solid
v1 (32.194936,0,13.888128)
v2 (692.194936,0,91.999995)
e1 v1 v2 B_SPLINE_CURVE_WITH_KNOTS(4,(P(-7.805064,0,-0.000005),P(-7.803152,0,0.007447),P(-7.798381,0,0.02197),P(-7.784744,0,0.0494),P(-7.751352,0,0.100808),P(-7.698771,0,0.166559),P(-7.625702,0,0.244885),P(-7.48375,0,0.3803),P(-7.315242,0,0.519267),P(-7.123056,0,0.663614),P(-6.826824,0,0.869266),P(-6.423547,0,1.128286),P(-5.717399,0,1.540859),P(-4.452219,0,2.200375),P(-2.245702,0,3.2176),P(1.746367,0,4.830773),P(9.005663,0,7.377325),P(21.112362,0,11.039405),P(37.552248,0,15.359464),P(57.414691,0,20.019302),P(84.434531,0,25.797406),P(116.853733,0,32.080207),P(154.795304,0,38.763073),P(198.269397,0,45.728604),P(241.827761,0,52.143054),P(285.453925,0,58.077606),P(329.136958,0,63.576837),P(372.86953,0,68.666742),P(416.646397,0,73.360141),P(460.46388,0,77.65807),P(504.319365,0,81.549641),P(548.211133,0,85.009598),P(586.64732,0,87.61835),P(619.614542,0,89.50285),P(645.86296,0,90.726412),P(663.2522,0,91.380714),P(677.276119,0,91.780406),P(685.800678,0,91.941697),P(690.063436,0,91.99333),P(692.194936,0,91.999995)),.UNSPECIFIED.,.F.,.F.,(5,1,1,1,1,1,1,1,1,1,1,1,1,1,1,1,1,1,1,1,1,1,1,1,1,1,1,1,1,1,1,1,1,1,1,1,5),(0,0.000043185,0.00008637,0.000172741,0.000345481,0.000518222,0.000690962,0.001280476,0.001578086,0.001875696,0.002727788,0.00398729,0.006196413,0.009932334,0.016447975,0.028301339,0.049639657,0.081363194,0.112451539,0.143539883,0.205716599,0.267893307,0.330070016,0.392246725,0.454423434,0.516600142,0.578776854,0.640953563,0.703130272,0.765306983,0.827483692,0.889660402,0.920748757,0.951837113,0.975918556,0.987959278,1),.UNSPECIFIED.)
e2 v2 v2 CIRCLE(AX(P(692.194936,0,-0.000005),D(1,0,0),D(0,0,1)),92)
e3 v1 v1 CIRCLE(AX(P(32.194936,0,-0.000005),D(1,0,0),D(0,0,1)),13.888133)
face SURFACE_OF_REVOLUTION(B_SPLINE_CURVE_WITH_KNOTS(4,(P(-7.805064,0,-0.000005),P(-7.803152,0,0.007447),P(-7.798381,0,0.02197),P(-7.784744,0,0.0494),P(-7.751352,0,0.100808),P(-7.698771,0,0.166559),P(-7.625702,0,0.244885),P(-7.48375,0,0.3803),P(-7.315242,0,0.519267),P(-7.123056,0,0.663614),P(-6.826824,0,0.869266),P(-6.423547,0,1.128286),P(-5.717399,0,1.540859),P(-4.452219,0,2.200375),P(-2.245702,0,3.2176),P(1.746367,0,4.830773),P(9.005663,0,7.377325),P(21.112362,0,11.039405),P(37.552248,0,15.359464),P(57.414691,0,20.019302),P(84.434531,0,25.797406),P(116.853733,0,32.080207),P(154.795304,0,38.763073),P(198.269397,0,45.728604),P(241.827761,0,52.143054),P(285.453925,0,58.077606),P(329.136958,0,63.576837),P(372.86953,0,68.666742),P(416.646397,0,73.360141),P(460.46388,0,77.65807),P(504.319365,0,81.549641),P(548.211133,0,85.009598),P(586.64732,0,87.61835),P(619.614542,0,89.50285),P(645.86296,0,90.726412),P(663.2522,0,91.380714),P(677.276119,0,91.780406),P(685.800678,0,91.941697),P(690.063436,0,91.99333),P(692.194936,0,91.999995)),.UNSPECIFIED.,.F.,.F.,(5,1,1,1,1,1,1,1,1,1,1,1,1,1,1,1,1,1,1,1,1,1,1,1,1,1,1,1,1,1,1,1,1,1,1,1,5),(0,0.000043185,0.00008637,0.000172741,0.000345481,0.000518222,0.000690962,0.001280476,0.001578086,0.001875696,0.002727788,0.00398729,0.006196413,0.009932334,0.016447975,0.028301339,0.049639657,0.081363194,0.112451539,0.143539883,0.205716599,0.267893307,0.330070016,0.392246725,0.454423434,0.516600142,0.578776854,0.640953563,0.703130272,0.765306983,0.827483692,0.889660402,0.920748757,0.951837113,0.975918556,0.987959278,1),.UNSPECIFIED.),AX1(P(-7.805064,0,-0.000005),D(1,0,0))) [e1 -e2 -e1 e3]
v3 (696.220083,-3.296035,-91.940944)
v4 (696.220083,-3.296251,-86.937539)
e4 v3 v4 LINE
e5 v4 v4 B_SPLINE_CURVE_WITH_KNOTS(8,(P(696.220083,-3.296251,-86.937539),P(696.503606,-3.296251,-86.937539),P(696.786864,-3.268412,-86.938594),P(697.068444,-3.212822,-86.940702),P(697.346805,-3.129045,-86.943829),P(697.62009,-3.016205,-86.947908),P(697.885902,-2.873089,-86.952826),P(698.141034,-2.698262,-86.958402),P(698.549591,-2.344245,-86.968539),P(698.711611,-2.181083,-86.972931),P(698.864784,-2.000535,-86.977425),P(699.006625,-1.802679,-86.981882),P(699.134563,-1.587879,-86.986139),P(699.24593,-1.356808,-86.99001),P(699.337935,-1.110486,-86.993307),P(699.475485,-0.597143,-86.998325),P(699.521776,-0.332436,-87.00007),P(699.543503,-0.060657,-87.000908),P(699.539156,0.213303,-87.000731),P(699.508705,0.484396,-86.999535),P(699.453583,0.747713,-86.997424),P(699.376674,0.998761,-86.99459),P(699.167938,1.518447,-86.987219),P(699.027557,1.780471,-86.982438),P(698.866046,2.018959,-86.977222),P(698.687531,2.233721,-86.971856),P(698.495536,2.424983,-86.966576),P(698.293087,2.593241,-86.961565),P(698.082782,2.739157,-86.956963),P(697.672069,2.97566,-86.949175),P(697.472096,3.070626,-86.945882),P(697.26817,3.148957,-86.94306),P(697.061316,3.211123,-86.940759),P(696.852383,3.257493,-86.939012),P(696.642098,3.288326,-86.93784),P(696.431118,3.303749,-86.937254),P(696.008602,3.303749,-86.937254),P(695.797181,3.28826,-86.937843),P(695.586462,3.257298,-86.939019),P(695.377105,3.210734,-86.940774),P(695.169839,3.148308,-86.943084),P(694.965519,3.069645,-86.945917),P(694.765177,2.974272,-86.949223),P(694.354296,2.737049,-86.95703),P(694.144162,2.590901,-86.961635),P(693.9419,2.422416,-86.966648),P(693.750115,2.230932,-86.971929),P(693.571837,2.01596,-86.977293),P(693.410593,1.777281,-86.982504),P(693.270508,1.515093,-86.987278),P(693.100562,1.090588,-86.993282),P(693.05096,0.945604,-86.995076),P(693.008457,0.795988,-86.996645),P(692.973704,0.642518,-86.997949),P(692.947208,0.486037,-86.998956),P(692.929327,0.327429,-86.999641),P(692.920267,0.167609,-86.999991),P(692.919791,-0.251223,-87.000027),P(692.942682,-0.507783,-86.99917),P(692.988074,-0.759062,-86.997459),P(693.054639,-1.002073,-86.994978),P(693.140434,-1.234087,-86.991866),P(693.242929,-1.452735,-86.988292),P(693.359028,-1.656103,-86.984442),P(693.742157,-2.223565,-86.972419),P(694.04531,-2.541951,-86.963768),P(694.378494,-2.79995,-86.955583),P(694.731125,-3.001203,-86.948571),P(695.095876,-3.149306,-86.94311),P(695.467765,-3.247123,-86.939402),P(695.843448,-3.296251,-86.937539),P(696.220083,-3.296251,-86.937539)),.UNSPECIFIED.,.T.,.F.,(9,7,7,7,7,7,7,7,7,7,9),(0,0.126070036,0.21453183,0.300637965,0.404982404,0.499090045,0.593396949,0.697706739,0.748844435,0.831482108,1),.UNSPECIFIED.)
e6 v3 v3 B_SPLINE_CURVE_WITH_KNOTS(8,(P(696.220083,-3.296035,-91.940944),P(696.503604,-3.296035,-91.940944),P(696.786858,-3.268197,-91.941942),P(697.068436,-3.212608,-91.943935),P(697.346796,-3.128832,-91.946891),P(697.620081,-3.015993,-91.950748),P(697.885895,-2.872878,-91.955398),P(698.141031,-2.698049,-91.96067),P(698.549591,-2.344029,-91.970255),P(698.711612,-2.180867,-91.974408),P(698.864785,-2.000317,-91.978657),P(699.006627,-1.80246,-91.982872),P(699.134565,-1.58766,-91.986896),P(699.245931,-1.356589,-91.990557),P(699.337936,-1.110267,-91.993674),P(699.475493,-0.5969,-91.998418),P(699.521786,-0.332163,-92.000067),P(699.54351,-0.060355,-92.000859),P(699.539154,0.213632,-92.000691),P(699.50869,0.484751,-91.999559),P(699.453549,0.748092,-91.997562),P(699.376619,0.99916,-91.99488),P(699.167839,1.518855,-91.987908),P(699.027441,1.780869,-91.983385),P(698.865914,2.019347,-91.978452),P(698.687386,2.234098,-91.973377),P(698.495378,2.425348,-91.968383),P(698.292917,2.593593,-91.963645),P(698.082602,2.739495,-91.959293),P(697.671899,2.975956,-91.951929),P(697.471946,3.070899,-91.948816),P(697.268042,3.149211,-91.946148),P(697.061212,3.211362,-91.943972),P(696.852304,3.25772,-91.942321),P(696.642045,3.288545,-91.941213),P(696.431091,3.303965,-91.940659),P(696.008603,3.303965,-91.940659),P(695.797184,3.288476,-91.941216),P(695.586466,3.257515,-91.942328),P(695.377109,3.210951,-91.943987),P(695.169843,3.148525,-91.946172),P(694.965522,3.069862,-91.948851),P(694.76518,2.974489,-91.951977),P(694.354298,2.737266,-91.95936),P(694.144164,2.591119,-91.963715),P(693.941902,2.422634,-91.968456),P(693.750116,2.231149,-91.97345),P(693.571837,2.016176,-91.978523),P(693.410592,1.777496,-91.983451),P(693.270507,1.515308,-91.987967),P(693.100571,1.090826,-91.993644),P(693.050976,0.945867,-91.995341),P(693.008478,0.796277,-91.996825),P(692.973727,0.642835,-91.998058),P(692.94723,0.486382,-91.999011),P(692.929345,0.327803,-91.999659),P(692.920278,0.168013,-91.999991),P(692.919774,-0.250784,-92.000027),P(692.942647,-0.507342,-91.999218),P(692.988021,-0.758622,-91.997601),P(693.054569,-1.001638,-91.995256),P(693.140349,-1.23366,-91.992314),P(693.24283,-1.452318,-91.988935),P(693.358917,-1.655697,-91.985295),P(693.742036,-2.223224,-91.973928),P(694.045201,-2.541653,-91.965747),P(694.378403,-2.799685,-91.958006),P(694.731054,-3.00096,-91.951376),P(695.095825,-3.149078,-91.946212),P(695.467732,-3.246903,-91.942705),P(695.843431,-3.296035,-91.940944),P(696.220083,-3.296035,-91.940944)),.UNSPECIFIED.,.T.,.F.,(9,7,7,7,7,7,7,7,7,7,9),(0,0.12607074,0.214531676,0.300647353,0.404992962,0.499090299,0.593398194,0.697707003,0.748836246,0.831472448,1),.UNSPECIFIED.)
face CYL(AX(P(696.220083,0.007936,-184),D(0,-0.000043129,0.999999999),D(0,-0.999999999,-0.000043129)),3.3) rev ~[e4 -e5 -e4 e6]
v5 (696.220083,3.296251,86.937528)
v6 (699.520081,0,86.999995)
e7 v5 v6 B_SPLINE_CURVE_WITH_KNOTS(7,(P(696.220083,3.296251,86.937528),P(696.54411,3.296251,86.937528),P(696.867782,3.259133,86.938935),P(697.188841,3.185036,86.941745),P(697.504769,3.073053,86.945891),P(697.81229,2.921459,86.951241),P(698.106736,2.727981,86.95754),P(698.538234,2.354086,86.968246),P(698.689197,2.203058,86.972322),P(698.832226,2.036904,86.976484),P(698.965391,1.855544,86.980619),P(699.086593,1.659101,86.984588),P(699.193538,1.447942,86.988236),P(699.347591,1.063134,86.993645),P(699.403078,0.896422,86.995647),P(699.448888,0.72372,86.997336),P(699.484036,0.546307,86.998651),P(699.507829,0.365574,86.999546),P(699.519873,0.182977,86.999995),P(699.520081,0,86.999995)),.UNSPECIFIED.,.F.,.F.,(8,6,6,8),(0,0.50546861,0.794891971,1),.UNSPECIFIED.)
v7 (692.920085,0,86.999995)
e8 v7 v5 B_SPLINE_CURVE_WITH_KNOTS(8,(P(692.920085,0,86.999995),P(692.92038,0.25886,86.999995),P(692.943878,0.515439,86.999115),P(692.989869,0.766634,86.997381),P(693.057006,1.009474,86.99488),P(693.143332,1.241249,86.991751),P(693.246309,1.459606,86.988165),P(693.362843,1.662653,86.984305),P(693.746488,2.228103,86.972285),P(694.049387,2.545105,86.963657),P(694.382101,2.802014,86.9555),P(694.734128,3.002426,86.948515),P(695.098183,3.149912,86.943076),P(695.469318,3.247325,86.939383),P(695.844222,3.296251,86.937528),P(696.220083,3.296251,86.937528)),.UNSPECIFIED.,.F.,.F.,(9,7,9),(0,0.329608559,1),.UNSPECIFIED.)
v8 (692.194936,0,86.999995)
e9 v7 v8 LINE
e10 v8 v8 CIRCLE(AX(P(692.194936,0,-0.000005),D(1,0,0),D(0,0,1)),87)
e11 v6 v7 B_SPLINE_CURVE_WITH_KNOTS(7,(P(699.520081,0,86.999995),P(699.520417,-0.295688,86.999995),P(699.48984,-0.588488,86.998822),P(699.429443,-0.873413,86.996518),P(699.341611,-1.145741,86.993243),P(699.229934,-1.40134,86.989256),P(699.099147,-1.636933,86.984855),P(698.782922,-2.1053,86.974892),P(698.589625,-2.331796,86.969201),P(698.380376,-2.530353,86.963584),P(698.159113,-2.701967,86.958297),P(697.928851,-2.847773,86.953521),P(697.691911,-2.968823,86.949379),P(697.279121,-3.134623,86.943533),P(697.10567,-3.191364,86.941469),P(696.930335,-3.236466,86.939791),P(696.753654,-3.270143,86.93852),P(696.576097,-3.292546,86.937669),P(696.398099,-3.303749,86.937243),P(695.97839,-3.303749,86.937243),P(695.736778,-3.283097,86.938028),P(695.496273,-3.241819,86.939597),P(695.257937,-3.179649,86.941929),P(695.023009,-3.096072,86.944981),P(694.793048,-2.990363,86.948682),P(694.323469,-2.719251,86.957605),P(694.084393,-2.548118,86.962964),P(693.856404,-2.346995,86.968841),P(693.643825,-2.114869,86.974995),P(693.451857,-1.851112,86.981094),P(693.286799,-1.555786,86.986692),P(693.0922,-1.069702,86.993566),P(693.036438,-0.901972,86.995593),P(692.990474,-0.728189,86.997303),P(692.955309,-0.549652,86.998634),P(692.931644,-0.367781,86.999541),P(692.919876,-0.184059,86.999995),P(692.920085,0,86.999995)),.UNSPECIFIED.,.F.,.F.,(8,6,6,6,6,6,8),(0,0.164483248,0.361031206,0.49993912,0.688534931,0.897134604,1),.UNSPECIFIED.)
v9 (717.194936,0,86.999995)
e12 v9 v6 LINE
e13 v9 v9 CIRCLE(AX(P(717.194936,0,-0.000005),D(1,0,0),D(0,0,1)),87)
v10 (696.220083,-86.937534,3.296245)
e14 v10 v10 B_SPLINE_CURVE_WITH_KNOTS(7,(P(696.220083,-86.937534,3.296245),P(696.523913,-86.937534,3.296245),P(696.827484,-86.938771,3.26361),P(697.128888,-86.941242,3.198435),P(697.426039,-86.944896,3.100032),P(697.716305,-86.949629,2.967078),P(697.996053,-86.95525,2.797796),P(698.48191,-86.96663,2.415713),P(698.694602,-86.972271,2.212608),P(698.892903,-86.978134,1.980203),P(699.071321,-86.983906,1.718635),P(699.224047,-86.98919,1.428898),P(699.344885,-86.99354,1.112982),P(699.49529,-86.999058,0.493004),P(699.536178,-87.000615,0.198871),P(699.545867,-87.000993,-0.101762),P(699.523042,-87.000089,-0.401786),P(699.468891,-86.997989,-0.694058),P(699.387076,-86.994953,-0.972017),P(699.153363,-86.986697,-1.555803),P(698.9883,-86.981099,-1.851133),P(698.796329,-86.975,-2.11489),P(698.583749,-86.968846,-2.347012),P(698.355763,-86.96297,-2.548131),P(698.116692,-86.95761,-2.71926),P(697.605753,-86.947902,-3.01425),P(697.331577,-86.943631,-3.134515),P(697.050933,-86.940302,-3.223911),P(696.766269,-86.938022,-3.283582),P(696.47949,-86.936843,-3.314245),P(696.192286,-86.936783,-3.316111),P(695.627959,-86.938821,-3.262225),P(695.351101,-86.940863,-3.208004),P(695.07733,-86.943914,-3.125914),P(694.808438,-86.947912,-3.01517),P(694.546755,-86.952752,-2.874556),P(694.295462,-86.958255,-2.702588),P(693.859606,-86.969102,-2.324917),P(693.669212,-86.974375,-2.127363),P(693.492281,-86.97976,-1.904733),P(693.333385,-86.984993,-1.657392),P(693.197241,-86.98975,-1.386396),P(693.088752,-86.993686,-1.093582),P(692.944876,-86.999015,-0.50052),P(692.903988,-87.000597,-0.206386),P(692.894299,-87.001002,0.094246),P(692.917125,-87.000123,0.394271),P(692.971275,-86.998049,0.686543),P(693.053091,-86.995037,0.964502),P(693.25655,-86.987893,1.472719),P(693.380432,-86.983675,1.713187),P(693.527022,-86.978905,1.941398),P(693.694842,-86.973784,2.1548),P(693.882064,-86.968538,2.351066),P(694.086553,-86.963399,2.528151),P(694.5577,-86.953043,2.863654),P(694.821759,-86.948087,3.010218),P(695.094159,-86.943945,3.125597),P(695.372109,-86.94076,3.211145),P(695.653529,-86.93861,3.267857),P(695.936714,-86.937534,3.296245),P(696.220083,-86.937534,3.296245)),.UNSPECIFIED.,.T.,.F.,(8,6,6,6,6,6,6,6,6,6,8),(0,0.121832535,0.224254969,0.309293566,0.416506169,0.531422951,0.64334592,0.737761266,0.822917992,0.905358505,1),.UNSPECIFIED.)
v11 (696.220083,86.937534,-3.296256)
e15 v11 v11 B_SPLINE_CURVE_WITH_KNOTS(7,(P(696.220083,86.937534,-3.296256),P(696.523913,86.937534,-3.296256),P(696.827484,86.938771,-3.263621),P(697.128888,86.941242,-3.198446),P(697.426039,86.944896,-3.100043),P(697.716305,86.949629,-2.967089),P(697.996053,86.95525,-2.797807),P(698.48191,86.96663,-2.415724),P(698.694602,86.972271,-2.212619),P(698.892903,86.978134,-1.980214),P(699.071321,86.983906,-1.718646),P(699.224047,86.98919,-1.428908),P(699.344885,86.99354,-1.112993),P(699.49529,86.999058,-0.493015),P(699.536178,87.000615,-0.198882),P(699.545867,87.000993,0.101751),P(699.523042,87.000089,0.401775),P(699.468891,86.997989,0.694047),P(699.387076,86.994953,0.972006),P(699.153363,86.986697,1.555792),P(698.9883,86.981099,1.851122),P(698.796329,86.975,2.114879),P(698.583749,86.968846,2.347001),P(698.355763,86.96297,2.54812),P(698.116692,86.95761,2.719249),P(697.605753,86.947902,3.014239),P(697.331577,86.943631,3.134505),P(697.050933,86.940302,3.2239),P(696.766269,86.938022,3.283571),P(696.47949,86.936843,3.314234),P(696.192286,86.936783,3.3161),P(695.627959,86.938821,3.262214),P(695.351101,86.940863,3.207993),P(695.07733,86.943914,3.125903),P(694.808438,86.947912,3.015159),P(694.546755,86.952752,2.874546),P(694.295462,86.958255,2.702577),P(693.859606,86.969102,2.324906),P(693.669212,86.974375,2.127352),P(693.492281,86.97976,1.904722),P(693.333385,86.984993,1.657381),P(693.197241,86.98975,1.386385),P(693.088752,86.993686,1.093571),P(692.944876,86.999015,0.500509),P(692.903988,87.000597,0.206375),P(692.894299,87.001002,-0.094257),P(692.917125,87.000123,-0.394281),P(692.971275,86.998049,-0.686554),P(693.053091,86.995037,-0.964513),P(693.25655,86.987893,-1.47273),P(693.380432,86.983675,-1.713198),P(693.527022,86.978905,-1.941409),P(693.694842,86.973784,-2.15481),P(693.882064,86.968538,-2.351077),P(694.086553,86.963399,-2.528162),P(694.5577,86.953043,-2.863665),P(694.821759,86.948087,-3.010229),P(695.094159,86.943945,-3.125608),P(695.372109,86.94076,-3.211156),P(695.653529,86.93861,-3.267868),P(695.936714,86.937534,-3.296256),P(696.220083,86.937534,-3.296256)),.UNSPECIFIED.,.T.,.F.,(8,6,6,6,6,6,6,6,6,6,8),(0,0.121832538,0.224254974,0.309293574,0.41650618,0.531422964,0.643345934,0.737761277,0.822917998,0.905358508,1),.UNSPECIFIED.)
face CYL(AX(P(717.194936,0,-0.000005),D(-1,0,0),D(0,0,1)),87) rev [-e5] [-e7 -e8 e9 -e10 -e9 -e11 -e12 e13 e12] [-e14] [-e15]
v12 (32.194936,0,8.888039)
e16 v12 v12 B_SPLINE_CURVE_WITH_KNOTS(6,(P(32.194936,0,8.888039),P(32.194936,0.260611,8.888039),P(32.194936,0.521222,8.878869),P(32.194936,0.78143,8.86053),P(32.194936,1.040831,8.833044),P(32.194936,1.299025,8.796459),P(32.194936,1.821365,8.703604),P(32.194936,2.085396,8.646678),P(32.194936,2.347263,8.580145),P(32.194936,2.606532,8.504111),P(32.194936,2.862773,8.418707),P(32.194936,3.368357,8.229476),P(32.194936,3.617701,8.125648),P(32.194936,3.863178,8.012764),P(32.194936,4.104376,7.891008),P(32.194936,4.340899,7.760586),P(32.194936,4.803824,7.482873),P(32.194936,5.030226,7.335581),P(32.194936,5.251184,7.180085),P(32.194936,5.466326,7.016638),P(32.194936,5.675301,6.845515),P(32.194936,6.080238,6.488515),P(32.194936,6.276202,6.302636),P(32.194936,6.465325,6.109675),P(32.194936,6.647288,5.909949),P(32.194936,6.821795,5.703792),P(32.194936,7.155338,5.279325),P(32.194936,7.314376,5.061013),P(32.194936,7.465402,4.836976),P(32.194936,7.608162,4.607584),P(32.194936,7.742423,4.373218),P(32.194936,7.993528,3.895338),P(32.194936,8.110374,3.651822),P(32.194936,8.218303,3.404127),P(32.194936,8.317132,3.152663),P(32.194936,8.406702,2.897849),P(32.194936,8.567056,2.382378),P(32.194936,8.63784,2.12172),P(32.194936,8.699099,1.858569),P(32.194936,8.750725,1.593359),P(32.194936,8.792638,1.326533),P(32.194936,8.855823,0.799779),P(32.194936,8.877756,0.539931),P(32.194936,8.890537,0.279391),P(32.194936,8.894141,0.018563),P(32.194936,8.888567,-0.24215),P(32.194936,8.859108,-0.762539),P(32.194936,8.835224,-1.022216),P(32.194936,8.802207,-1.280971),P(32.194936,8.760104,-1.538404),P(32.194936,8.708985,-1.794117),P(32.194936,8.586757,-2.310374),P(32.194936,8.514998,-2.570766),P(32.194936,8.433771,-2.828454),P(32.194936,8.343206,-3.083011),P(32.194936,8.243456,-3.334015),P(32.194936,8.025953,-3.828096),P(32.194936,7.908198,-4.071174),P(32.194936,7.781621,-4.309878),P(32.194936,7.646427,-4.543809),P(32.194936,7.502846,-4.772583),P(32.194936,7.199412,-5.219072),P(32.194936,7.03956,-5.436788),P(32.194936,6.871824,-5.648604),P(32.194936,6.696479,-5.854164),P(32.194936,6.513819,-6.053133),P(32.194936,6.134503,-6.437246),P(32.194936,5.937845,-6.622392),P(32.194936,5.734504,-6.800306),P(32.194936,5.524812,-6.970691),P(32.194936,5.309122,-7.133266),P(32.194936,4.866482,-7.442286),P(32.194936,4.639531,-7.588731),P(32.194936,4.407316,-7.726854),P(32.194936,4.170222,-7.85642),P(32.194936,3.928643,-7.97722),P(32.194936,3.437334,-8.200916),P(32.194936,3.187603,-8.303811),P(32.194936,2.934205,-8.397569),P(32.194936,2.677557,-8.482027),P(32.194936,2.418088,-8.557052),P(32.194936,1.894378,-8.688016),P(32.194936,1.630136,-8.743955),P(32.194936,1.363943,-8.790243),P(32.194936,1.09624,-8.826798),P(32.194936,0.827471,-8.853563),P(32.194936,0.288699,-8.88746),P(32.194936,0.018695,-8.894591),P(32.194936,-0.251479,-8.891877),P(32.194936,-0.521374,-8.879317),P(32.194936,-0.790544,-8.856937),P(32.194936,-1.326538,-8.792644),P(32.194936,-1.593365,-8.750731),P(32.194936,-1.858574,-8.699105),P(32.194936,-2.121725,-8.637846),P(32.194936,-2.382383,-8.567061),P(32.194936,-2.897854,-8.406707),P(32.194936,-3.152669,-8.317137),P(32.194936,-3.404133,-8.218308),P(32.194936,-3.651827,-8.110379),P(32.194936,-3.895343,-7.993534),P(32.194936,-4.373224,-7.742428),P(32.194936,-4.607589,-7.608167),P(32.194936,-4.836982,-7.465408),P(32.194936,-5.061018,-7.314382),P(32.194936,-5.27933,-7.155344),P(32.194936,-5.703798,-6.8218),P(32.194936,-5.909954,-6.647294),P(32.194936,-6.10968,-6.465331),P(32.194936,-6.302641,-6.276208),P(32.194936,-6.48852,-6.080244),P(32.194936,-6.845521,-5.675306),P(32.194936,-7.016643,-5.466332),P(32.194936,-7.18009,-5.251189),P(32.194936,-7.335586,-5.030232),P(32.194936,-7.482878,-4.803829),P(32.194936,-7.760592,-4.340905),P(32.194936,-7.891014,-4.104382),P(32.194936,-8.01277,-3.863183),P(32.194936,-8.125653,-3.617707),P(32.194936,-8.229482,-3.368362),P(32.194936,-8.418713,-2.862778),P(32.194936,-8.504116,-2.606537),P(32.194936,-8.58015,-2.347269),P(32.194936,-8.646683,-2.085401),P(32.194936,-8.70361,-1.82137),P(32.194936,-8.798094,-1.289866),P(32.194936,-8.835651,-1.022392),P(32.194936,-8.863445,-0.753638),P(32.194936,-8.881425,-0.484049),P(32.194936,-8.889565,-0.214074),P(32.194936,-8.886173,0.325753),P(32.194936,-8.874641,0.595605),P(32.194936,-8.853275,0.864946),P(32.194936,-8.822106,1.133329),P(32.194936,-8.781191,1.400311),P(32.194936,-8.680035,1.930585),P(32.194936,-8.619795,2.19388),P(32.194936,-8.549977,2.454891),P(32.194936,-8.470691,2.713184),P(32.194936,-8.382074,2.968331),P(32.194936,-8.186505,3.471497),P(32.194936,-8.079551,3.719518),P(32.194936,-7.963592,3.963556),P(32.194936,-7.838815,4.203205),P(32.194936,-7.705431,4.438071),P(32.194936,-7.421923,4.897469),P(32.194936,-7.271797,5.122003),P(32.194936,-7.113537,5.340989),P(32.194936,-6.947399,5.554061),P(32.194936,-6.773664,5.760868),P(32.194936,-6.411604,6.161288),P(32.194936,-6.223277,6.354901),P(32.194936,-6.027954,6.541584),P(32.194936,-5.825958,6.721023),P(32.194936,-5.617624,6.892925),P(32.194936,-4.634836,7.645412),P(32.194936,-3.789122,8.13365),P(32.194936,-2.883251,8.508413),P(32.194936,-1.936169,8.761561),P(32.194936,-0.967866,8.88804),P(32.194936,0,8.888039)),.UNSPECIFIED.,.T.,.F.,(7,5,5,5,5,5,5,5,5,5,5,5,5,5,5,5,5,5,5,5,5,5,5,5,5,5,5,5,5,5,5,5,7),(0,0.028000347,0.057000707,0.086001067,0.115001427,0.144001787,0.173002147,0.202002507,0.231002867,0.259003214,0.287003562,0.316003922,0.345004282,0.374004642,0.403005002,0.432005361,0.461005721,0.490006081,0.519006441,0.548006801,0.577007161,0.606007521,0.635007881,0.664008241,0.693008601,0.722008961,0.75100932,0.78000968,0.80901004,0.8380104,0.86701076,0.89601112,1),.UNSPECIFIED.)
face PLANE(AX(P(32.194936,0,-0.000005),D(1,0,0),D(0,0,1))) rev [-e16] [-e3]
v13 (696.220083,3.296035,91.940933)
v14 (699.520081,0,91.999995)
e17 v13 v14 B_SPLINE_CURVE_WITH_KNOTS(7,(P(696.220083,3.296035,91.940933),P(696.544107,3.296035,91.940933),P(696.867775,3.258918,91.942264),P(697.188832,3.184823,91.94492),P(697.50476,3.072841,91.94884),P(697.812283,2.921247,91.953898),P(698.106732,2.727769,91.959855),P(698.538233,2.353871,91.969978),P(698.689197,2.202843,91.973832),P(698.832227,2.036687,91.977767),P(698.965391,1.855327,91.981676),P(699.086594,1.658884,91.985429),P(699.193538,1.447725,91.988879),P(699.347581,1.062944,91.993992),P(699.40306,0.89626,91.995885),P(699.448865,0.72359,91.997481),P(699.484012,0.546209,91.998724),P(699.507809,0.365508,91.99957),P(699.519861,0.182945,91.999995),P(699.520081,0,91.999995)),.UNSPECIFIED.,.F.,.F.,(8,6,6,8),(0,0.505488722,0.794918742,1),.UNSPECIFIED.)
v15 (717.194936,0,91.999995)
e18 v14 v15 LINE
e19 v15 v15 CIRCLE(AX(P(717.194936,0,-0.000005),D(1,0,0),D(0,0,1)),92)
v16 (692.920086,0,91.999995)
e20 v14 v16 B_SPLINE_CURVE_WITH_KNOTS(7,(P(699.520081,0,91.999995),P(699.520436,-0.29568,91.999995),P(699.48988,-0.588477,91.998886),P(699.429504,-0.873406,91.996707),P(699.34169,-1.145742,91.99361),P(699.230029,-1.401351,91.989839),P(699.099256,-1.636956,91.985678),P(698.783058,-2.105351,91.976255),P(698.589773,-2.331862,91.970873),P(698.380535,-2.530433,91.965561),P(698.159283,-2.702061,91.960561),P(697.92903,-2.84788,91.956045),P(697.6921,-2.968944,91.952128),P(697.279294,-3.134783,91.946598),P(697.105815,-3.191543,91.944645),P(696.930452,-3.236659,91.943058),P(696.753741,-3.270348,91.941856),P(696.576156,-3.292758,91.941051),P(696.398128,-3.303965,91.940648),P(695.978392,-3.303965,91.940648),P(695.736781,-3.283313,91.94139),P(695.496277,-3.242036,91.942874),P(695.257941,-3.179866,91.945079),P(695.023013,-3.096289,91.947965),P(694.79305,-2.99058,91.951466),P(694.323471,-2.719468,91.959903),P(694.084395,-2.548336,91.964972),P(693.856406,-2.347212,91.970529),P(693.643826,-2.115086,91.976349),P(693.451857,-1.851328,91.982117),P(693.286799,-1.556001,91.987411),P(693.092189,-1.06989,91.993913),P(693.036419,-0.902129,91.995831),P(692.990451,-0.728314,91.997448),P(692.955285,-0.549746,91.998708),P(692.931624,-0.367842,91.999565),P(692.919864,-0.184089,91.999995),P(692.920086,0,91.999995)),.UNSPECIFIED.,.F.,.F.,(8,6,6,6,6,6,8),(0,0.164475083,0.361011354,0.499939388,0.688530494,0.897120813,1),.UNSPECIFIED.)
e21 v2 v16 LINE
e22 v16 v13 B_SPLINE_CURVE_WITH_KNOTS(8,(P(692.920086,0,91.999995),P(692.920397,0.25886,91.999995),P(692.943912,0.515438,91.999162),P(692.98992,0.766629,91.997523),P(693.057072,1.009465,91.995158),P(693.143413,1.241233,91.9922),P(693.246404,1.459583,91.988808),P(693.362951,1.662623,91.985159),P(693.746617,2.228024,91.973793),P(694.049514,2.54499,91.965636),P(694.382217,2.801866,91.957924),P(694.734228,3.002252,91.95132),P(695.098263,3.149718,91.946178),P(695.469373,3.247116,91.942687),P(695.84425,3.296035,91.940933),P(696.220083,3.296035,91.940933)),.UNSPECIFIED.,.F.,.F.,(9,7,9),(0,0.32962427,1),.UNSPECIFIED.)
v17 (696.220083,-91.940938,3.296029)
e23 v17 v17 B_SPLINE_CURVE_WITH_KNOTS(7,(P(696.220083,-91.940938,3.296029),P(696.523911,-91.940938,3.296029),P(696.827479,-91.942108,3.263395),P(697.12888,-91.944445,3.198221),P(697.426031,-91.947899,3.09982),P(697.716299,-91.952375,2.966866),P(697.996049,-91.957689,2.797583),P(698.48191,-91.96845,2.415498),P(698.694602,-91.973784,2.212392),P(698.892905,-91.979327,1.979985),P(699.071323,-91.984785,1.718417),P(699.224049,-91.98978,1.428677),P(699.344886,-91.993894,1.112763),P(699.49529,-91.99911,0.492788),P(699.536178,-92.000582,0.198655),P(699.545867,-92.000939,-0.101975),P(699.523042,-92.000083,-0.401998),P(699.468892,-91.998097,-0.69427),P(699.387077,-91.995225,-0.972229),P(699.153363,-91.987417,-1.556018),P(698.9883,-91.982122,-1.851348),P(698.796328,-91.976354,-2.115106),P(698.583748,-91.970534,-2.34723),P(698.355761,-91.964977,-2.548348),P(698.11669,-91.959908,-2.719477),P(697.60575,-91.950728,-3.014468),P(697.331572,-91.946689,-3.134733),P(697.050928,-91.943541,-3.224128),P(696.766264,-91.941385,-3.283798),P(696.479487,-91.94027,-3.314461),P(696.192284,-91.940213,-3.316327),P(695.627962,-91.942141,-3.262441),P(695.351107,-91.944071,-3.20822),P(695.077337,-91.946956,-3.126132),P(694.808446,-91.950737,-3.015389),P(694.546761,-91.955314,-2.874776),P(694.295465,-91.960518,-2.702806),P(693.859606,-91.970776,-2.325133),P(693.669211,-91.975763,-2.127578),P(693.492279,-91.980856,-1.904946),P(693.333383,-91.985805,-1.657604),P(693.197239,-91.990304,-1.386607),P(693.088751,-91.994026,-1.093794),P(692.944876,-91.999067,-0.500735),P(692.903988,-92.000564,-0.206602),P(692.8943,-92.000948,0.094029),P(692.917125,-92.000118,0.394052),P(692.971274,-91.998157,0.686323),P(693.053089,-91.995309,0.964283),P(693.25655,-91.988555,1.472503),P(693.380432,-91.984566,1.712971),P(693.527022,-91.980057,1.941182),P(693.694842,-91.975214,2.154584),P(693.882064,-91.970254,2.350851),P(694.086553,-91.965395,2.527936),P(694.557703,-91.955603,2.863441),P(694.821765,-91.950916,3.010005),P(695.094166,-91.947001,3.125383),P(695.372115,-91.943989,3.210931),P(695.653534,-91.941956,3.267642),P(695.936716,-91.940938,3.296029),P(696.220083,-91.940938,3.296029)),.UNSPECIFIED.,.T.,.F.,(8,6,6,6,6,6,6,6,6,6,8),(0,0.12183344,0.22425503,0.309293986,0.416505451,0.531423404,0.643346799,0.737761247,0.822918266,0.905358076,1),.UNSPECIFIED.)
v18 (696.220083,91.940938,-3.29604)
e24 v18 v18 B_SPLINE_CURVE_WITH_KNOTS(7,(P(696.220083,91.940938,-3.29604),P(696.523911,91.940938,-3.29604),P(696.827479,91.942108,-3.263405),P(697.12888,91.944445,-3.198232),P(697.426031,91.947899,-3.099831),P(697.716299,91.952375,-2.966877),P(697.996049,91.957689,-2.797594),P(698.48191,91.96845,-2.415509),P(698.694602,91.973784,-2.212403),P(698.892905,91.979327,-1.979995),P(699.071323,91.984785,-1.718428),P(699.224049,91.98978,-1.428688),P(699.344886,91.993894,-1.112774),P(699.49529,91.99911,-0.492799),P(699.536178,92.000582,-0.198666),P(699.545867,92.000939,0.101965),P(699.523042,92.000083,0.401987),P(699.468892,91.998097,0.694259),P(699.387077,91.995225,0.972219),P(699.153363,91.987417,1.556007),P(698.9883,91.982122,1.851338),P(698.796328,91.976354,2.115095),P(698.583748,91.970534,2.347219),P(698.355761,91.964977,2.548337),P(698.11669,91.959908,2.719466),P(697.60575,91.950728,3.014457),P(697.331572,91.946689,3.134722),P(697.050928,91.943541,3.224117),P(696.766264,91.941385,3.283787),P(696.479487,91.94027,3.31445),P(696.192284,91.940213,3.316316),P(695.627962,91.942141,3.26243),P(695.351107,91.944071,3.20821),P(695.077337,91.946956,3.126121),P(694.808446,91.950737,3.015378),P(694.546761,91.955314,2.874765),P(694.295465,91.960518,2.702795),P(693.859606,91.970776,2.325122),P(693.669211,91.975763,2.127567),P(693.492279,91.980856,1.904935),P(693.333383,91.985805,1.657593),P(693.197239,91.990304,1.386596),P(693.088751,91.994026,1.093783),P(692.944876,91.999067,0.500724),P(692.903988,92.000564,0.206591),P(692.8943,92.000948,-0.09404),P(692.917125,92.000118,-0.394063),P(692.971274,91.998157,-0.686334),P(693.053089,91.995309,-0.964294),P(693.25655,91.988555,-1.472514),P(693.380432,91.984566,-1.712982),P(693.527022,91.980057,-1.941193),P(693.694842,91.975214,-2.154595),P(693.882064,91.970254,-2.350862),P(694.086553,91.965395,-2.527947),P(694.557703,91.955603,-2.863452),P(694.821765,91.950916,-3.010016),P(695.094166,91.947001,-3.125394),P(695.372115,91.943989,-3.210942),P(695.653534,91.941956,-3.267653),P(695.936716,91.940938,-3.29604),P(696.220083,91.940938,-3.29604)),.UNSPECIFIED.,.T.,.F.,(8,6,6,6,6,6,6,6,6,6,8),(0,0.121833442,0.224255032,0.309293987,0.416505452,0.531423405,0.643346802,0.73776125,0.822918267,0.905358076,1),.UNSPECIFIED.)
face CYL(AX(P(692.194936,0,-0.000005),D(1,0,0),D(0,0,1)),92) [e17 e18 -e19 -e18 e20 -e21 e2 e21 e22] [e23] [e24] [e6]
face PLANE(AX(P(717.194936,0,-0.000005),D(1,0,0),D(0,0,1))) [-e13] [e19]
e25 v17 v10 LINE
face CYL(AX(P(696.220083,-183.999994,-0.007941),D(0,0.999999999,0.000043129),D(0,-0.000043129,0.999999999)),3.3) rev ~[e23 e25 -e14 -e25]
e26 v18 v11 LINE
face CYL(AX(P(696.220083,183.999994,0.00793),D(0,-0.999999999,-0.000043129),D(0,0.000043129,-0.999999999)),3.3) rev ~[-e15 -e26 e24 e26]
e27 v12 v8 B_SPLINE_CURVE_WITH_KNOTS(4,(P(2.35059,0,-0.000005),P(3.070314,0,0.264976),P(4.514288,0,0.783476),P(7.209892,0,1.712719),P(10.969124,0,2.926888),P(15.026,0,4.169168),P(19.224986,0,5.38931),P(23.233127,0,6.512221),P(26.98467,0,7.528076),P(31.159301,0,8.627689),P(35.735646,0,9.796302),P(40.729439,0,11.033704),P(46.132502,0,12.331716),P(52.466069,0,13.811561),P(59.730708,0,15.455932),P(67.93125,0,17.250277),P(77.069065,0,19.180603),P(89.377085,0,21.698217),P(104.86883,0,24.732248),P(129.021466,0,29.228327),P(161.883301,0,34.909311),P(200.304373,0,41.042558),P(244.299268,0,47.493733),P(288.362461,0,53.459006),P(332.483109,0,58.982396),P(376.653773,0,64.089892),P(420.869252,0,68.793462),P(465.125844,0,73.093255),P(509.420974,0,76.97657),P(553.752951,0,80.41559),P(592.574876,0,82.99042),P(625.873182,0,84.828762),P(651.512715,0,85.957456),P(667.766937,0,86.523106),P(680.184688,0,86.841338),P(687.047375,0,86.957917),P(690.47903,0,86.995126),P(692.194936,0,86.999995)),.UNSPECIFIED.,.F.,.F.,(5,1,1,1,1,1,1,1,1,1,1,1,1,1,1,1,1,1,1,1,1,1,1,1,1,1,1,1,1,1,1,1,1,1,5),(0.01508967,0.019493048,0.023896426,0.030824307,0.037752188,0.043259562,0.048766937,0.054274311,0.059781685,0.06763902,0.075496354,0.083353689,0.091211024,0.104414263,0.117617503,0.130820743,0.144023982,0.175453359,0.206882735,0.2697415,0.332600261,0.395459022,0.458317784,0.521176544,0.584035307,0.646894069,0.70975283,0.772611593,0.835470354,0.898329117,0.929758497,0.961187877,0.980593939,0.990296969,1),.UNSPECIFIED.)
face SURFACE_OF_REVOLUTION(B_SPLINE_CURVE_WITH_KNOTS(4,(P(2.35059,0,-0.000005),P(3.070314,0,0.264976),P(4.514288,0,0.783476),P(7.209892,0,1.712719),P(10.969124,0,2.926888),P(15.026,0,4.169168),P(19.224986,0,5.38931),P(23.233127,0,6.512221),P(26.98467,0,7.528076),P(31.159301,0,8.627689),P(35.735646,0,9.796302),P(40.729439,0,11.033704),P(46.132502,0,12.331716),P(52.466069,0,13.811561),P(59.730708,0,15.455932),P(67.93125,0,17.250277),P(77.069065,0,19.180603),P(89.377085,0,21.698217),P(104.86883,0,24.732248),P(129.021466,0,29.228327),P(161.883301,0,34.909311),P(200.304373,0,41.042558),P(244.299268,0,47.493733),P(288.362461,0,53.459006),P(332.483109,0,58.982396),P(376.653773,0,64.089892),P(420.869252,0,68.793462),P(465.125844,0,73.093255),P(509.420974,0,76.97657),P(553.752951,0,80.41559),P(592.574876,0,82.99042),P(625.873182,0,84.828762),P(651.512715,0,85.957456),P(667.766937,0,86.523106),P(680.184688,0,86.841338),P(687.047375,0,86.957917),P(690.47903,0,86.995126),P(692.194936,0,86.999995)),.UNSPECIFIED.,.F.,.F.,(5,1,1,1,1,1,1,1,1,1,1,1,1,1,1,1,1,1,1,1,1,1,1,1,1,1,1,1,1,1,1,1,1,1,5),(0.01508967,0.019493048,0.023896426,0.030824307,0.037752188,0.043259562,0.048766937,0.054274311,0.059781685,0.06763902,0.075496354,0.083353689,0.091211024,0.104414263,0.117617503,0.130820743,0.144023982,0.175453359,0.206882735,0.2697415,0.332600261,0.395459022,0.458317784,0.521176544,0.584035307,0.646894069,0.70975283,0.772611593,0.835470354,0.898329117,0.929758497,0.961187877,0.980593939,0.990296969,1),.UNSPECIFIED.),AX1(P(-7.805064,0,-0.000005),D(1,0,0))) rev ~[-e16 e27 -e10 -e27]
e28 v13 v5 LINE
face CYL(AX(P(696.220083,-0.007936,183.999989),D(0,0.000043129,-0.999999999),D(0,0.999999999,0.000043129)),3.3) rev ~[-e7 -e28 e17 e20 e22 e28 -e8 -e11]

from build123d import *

# Parameters (mm, degrees)
SKETCH5_W                = 40
SKETCH5_H                = 13.888133248
M6_CLEARANCE_HOLE2_D     = 6.6
M6_CLEARANCE_HOLE2_DEPTH = 91.999994559
CIRPATTERN1_COUNT        = 4


with BuildPart() as part:
    # Sketch4 → Revolve1 (revolve)
    with BuildSketch(Plane(origin=(0, 0, 0), x_dir=(1, 0, 0), z_dir=(0, 1, 0)), mode=Mode.PRIVATE) as revolve1_sk:
        with BuildLine():
            Line((692.19493618, 92.00000544), (717.19493618, 92.00000544))
            Line((717.19493618, 92.00000544), (717.19493618, 87.00000544))
            Line((717.19493618, 87.00000544), (692.19493618, 87.00000544))
            add(Edge.make_bspline(
                [(2.35059049, 5.44e-06), (3.070313939, 0.264986511), (4.514288074, 0.783487004), (7.209892242, 1.71272979), (10.9691237, 2.926899076), (15.025999643, 4.169178684), (19.224986498, 5.38932061), (23.233126546, 6.512231978), (26.984670226, 7.528086742), (31.159300835, 8.62770031), (35.735645757, 9.796313018), (40.729438664, 11.033714423), (46.132501861, 12.331727167), (52.46606922, 13.811572152), (59.730707612, 15.455942991), (67.931249889, 17.250288118), (77.069064553, 19.180614263), (89.377084776, 21.6982277), (104.868830112, 24.732258394), (129.021466327, 29.228337817), (161.883300879, 34.909322194), (200.304373387, 41.042569148), (244.299268366, 47.493743387), (288.362460984, 53.459016593), (332.483108604, 58.982406869), (376.653772929, 64.089902823), (420.869252086, 68.79347324), (465.125844203, 73.093266185), (509.420974498, 76.976580594), (553.752951275, 80.415600393), (592.574876365, 82.990430422), (625.873181767, 84.828773072), (651.512715071, 85.95746689), (667.766937064, 86.523117155), (680.18468763, 86.841349022), (687.047375242, 86.957928013), (690.479030026, 86.995136708), (692.19493618, 87.00000544)],
                knots=[0.01508967, 0.01508967, 0.01508967, 0.01508967, 0.01508967, 0.019493048, 0.023896426, 0.030824307, 0.037752188, 0.043259562, 0.048766937, 0.054274311, 0.059781685, 0.06763902, 0.075496354, 0.083353689, 0.091211024, 0.104414263, 0.117617503, 0.130820743, 0.144023982, 0.175453359, 0.206882735, 0.2697415, 0.332600261, 0.395459022, 0.458317784, 0.521176544, 0.584035307, 0.646894069, 0.70975283, 0.772611593, 0.835470354, 0.898329117, 0.929758497, 0.961187877, 0.980593939, 0.990296969, 1, 1, 1, 1, 1], degree=4))
            Line((2.35059049, 5.44e-06), (-7.80506382, 5.44e-06))
            add(Edge.make_bspline(
                [(-7.80506382, 5.44e-06), (-7.80315235, 0.007457895), (-7.798381049, 0.021981107), (-7.784743909, 0.049410712), (-7.751351508, 0.100819332), (-7.698771277, 0.166570112), (-7.625702296, 0.244895734), (-7.483749653, 0.380311226), (-7.31524235, 0.519277796), (-7.123055524, 0.663624603), (-6.826823811, 0.869277302), (-6.423546949, 1.128296436), (-5.717398659, 1.540869703), (-4.452219139, 2.200385781), (-2.245701798, 3.217611314), (1.746367252, 4.830783645), (9.00566328, 7.377336299), (21.112361692, 11.039415964), (37.552247997, 15.359474608), (57.414690694, 20.019312814), (84.434531374, 25.797417052), (116.853732539, 32.080217567), (154.795304085, 38.763083388), (198.26939689, 45.728614504), (241.827760535, 52.143064754), (285.453924599, 58.077617211), (329.136957776, 63.576847497), (372.869529617, 68.666752974), (416.64639657, 73.360151742), (460.463880201, 77.658080534), (504.319365047, 81.549651766), (548.211132534, 85.009609026), (586.64732018, 87.618360709), (619.614541981, 89.502860955), (645.862960007, 90.726422777), (663.252200015, 91.380725004), (677.276118816, 91.780416652), (685.800677513, 91.941707564), (690.063435506, 91.993340793), (692.19493618, 92.00000544)],
                knots=[0, 0, 0, 0, 0, 4.3185e-05, 8.637e-05, 0.000172741, 0.000345481, 0.000518222, 0.000690962, 0.001280476, 0.001578086, 0.001875696, 0.002727788, 0.00398729, 0.006196413, 0.009932334, 0.016447975, 0.028301339, 0.049639657, 0.081363194, 0.112451539, 0.143539883, 0.205716599, 0.267893307, 0.330070016, 0.392246725, 0.454423434, 0.516600142, 0.578776854, 0.640953563, 0.703130272, 0.765306983, 0.827483692, 0.889660402, 0.920748757, 0.951837113, 0.975918556, 0.987959278, 1, 1, 1, 1, 1], degree=4))
        make_face()
    revolve(revolve1_sk.sketch.rotate(Axis((-7.80506382, 0, -5.44e-06), (1, 0, 0)), 180), axis=Axis((-7.80506382, 0, -5.44e-06), (1, 0, 0)))


with BuildPart() as body_2:
    # Sketch5 → Revolve4 (revolve)
    with BuildSketch(Plane(origin=(0, 0, 0), x_dir=(1, 0, 0), z_dir=(0, 1, 0)), mode=Mode.PRIVATE) as revolve4_sk:
        with Locations((12.19493618, 6.944072064)):
            Rectangle(SKETCH5_W, SKETCH5_H)
    revolve(revolve4_sk.sketch.rotate(Axis((-7.80506382, 0, -5.44e-06), (1, 0, 0)), 180), axis=Axis((-7.80506382, 0, -5.44e-06), (1, 0, 0)))


with BuildPart() as part_1:
    add(part.part)

    # Combine2: cut body 2
    add(body_2.part, mode=Mode.SUBTRACT)

    # M6 Clearance Hole2
    with Locations(Plane(origin=(696.220083154, 91.999999914, 0.003962383), x_dir=(0, -4.3128514e-05, 0.99999999907), z_dir=(0, 0.99999999907, 4.3128514e-05))):
        with Locations((0, 0)):
            m6_clearance_hole2 = Hole(M6_CLEARANCE_HOLE2_D / 2, depth=M6_CLEARANCE_HOLE2_DEPTH)

    # CirPattern1: M6 Clearance Hole2 ×4 about axis
    cirpattern1_axis = Axis((-7.80506382, 0, -5.44e-06), (-1, 0, 0))
    for i in range(1, CIRPATTERN1_COUNT):
        add(m6_clearance_hole2.rotate(cirpattern1_axis, i * 360 / CIRPATTERN1_COUNT), mode=Mode.SUBTRACT)


solid = part_1.part
